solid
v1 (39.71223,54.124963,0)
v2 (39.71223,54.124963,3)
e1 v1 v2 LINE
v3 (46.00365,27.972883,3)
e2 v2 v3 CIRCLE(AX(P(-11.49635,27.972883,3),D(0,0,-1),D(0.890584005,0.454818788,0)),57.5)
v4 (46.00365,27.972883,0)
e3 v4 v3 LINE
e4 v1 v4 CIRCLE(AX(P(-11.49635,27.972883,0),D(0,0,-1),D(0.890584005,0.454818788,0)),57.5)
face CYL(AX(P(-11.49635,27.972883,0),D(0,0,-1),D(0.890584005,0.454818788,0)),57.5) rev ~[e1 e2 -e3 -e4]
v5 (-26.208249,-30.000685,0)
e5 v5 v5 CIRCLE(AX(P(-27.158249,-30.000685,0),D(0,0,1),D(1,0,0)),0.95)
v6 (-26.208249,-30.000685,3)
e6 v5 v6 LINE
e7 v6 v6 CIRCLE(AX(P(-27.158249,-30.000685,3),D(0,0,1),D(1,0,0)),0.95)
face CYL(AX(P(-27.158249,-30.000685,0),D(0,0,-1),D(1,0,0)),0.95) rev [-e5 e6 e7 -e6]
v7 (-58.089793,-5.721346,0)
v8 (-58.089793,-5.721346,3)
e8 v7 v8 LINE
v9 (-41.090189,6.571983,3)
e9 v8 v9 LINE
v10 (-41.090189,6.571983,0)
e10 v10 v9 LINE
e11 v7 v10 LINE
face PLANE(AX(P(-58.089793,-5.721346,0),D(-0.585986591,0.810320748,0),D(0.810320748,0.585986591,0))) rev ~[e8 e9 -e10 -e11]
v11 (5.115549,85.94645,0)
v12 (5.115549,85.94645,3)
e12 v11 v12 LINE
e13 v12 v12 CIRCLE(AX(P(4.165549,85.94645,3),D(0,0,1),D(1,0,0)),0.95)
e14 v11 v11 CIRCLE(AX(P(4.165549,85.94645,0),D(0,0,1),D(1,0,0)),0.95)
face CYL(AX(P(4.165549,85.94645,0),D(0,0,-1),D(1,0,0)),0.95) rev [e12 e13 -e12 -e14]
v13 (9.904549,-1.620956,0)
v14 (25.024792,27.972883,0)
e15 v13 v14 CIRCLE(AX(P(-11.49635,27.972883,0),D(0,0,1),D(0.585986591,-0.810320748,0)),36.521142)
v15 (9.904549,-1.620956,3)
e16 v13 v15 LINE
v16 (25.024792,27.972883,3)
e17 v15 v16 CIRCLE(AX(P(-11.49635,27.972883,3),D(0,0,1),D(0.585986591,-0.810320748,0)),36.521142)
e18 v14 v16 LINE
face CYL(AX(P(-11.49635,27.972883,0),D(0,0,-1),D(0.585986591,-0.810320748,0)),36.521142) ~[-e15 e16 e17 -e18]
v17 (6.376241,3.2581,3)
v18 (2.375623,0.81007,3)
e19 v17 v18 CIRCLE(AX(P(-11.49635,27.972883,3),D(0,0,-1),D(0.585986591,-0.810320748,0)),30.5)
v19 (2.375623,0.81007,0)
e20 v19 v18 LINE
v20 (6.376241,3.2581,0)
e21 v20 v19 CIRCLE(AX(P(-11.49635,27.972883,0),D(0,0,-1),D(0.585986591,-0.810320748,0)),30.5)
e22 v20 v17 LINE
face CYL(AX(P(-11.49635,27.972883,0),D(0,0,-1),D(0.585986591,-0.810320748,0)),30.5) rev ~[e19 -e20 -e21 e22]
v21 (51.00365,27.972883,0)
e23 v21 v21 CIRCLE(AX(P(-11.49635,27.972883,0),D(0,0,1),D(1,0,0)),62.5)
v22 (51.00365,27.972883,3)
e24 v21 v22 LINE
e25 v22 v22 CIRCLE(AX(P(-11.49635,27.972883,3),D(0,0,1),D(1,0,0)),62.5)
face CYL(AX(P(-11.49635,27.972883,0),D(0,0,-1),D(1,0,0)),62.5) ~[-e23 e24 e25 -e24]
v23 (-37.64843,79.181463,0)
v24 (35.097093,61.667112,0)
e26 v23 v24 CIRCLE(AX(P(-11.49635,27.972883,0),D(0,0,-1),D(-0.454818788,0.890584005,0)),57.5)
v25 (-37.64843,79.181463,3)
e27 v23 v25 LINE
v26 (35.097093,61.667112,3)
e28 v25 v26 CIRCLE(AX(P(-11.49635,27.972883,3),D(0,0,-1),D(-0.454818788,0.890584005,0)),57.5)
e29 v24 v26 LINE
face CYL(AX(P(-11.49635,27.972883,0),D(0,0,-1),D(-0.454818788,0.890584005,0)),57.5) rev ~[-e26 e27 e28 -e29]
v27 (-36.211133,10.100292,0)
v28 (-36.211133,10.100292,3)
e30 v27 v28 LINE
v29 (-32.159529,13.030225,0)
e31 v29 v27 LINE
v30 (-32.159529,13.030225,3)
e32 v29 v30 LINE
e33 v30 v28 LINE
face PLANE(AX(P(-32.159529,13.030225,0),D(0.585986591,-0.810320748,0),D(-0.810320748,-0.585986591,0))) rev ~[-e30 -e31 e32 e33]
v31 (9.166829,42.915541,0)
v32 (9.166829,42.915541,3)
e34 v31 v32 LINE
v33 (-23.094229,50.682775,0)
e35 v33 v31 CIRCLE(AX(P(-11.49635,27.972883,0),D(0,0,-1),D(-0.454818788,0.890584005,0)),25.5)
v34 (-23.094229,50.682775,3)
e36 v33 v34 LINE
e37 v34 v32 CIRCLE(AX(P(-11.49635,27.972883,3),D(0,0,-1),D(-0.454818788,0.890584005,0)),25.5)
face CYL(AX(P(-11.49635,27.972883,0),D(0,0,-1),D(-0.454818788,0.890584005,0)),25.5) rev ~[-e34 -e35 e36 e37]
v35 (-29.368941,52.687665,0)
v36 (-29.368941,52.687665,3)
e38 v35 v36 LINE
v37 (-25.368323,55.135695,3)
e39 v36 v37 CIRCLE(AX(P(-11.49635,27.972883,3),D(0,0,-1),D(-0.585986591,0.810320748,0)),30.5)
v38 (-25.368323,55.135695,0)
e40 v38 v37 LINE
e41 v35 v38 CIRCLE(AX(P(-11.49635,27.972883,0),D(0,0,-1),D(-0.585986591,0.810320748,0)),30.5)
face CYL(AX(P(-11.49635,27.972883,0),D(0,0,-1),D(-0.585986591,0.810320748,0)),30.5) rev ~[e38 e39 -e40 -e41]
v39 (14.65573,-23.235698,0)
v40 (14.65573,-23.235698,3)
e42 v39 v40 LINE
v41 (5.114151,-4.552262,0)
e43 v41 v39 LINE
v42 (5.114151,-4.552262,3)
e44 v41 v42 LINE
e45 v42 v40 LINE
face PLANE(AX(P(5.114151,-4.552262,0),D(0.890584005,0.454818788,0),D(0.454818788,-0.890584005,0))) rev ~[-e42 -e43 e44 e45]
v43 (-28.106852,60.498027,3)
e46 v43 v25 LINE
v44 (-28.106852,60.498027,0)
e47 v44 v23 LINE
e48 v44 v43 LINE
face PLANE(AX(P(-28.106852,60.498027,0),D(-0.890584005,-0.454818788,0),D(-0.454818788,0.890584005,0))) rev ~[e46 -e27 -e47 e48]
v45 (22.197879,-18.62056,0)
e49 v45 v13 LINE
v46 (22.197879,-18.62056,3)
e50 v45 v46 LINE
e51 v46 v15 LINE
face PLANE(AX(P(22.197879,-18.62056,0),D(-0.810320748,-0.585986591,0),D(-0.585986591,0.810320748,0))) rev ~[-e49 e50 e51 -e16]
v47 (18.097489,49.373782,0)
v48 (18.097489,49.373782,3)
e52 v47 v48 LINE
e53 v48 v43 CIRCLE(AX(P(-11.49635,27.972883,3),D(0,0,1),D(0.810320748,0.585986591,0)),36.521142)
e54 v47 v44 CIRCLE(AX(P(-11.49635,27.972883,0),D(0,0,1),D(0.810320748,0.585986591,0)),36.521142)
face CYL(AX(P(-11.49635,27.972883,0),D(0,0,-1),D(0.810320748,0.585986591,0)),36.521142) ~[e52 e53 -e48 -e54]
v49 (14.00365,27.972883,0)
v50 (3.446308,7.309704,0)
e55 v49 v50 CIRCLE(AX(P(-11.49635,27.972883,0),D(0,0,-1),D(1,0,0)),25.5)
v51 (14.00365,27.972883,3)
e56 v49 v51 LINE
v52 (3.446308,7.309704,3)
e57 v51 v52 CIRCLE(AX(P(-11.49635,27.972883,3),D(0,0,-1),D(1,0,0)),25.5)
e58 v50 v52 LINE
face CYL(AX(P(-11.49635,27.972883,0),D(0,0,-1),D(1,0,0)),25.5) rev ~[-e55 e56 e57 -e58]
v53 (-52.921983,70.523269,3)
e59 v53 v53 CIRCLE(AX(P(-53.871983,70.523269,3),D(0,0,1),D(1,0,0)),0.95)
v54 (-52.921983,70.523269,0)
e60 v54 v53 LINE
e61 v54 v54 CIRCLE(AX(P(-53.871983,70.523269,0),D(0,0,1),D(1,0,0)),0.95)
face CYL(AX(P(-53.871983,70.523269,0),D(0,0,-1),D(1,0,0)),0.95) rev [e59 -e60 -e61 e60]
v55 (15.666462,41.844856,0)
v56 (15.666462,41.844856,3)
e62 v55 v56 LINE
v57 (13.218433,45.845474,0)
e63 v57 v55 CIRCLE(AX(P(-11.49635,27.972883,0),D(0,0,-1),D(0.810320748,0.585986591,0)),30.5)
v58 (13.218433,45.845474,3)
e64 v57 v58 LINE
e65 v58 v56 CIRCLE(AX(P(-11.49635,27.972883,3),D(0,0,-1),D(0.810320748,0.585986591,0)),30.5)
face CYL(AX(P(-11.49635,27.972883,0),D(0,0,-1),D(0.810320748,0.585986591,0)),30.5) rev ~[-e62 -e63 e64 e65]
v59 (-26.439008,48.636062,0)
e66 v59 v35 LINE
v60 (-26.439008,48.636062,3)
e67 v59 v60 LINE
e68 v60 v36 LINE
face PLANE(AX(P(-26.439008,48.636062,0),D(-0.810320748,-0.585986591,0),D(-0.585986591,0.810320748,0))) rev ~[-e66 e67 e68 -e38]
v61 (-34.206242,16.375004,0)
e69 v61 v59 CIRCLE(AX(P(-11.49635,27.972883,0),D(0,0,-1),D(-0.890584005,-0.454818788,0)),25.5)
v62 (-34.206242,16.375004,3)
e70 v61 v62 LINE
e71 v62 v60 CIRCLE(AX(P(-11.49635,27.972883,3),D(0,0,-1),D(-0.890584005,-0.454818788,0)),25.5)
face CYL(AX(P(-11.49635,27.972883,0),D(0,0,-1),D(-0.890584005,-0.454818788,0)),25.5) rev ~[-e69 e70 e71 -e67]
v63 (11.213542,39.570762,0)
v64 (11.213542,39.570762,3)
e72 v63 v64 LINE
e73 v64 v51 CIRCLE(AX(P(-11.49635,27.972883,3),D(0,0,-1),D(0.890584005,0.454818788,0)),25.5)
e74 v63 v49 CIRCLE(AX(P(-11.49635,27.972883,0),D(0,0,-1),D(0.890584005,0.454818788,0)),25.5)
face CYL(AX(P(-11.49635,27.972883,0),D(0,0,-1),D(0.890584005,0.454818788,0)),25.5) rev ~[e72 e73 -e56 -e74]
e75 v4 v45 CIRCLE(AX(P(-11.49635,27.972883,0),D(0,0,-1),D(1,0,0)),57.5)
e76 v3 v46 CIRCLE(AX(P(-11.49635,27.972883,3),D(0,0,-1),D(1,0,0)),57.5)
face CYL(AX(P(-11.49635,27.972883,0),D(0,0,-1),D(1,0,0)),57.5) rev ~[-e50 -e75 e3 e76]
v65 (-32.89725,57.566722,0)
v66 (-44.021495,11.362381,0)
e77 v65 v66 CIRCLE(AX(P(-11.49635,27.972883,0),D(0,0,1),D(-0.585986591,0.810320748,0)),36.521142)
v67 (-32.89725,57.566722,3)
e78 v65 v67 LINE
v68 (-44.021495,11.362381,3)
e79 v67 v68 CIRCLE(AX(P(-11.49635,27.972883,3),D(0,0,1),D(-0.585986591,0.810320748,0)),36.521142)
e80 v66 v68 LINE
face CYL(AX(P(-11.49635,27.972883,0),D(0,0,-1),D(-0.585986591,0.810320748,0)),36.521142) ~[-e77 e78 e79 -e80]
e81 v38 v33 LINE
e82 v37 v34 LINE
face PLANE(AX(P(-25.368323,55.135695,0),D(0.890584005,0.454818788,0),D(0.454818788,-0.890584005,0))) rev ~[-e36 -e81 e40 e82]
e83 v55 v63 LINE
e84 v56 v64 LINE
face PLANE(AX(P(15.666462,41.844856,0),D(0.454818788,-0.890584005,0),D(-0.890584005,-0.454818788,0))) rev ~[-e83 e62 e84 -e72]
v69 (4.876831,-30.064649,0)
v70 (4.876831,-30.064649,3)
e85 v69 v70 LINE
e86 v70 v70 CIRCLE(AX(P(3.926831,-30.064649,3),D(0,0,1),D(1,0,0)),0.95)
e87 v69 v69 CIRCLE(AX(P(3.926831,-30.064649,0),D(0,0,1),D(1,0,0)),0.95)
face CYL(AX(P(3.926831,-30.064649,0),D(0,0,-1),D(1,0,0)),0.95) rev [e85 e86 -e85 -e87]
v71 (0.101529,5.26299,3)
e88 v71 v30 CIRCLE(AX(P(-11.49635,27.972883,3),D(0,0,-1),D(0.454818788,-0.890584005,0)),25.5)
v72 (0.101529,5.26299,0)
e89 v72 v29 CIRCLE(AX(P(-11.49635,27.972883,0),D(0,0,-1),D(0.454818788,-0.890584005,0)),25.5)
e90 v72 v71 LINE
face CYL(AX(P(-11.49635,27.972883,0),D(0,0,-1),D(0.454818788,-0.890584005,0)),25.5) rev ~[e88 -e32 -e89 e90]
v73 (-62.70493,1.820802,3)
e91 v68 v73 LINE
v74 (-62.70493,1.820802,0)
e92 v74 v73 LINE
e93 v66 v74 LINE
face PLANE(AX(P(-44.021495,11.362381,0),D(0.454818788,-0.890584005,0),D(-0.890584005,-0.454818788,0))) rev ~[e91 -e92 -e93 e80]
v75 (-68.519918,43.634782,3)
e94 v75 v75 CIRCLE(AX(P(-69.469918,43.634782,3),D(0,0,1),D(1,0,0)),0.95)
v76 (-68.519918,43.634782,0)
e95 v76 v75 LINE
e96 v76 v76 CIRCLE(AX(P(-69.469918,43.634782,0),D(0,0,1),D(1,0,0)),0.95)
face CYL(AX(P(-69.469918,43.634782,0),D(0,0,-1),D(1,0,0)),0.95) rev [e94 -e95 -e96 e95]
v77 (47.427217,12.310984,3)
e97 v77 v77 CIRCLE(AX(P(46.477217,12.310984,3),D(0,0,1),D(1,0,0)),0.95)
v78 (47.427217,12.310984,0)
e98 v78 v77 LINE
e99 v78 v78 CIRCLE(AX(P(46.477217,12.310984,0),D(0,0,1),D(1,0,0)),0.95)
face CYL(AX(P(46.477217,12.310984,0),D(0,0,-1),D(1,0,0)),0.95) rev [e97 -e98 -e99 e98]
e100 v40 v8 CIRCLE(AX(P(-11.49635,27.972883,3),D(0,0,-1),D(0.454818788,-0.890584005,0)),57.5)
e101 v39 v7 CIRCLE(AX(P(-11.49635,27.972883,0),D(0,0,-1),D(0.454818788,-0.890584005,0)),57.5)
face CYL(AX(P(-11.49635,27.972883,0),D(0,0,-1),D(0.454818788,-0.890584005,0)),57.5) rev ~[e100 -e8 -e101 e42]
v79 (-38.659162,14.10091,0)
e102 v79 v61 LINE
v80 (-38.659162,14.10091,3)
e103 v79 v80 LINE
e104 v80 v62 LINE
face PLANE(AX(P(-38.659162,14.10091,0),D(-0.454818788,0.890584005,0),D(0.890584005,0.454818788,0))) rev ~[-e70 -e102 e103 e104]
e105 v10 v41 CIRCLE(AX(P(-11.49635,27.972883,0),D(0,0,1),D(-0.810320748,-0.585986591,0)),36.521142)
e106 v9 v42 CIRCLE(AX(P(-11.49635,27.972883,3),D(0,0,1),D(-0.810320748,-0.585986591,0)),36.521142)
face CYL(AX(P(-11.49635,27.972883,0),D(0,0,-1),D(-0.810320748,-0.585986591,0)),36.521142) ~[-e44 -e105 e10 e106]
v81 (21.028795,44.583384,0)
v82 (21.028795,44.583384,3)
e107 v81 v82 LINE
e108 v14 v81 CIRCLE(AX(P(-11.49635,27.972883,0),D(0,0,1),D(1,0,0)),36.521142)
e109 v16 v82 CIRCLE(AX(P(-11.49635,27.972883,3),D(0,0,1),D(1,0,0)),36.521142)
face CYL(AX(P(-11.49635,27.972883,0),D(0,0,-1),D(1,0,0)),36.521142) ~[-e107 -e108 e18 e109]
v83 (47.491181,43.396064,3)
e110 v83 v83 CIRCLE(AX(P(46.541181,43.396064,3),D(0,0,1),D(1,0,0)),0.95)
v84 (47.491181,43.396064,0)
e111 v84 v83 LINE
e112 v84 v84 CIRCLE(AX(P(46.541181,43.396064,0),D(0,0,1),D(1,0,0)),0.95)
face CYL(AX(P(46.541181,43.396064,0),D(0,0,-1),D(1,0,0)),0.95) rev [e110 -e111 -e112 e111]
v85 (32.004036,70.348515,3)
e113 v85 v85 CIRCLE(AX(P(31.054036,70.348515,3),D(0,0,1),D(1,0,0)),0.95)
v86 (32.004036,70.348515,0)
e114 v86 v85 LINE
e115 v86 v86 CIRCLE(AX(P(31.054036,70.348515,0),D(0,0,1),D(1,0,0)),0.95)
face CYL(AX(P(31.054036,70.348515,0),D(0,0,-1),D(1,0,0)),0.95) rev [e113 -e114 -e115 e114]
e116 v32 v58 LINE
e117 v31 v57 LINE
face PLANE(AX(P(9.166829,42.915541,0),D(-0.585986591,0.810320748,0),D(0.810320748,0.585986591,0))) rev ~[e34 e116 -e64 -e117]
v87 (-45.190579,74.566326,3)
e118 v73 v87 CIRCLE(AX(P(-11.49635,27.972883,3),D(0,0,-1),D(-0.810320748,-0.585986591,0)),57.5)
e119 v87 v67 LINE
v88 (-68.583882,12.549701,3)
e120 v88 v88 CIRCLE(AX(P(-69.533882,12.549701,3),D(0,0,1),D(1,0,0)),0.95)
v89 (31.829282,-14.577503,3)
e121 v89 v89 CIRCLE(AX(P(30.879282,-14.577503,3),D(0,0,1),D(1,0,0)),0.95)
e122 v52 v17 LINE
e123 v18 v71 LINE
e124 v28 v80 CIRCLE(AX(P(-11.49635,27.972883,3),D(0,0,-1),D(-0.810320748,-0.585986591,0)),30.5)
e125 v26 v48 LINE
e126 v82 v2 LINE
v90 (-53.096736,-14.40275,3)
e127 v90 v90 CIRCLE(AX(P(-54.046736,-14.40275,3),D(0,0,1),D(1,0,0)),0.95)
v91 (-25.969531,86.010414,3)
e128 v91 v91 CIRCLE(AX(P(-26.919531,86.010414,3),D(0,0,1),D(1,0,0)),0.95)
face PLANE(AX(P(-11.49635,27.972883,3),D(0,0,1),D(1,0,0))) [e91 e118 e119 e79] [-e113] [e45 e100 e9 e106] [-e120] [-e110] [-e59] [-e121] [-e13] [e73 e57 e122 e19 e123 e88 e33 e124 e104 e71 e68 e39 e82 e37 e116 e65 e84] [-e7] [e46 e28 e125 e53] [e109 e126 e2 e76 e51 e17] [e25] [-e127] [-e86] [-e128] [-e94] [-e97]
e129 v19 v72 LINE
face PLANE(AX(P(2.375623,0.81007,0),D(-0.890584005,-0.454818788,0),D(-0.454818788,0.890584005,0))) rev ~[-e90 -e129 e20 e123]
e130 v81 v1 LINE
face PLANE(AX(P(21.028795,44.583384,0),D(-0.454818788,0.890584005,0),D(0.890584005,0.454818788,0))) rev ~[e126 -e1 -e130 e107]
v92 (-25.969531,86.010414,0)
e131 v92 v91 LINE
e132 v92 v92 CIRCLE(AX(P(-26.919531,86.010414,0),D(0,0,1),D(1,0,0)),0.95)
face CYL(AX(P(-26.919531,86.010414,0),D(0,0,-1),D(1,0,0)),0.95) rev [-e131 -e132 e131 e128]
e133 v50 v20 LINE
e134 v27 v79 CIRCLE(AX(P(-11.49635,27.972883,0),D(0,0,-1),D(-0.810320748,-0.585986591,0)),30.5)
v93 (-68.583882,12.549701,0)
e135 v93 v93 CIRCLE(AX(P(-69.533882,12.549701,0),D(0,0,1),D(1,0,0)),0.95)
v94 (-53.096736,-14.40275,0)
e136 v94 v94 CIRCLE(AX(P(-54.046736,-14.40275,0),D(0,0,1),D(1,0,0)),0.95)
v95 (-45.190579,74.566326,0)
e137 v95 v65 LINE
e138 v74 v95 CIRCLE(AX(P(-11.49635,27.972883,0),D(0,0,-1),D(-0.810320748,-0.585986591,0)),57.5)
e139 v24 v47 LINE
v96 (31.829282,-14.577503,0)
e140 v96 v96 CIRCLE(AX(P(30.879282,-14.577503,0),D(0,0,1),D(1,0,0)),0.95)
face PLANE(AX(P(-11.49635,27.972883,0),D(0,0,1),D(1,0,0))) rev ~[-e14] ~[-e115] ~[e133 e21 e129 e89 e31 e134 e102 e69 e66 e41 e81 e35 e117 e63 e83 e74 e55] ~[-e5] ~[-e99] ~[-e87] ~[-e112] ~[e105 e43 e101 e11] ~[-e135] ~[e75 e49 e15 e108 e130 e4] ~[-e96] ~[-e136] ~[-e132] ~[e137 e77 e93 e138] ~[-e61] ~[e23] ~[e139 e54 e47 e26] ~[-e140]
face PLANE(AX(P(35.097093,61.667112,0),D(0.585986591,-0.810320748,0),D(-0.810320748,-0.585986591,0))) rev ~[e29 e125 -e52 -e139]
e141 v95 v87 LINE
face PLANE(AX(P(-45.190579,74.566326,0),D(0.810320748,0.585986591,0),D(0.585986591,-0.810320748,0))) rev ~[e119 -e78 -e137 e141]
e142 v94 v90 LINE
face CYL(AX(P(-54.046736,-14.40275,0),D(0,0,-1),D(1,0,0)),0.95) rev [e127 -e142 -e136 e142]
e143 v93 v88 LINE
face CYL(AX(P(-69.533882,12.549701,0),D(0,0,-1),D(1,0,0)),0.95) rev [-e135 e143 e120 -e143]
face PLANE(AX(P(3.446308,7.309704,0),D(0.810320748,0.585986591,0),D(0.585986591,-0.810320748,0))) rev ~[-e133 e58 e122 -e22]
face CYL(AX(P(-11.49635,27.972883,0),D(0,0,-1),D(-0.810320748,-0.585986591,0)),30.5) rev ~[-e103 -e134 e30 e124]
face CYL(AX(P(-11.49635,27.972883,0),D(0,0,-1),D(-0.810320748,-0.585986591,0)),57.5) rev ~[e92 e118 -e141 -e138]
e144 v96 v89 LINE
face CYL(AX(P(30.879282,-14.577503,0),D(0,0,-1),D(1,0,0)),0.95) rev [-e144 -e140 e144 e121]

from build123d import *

# Parameters (mm, degrees)
F0_R     = 62.5
F0_R_2   = 0.95
F1_DEPTH = 3


with BuildPart() as f1:
    # F0 (on Top) → F1 (new body)
    with BuildSketch(Plane.XY):
        with Locations((-11.4963501692, 27.9728826135)):
            Circle(F0_R)
        with Locations((-54.0467362732, -14.4027499996)):
            Circle(F0_R_2, mode=Mode.SUBTRACT)
        with Locations((-27.1582491696, -30.0006847829)):
            Circle(F0_R_2, mode=Mode.SUBTRACT)
        with Locations((-69.5338817827, 12.5497013212)):
            Circle(F0_R_2, mode=Mode.SUBTRACT)
        with Locations((3.9268311232, -30.064649)):
            Circle(F0_R_2, mode=Mode.SUBTRACT)
        with Locations((30.8792824439, -14.5775034905)):
            Circle(F0_R_2, mode=Mode.SUBTRACT)
        with Locations((46.4772172272, 12.3109836131)):
            Circle(F0_R_2, mode=Mode.SUBTRACT)
        with Locations((-69.4699175656, 43.6347816139)):
            Circle(F0_R_2, mode=Mode.SUBTRACT)
        with Locations((-53.8719827823, 70.5232687176)):
            Circle(F0_R_2, mode=Mode.SUBTRACT)
        with Locations((-26.9195314615, 86.010414227)):
            Circle(F0_R_2, mode=Mode.SUBTRACT)
        with BuildLine():
            ThreePointArc((35.0970928529, 61.6671116053), (37.5498519583, 57.9848811619), (39.7122301293, 54.1249629097))
            ThreePointArc((39.7122301293, 54.1249629097), (44.4086736085, 41.4219835656), (46.0036498308, 27.9728826135))
            ThreePointArc((46.0036498308, 27.9728826135), (39.707498158, 1.8115386785), (22.1978788226, -18.6205604085))
            ThreePointArc((22.1978788226, -18.6205604085), (18.5156483792, -21.073319514), (14.655730127, -23.2356976849))
            ThreePointArc((14.655730127, -23.2356976849), (-24.9555645945, -27.9297071928), (-58.0897931912, -5.7213463782))
            ThreePointArc((-58.0897931912, -5.7213463782), (-60.5425522967, -2.0391159348), (-62.7049304676, 1.8208023173))
            ThreePointArc((-62.7049304676, 1.8208023173), (-67.3989399755, 41.4320970388), (-45.190579161, 74.5663256356))
            ThreePointArc((-45.190579161, 74.5663256356), (-41.5083487176, 77.019084741), (-37.6484304654, 79.181462912))
            ThreePointArc((-37.6484304654, 79.181462912), (1.9628642561, 83.8754724199), (35.0970928529, 61.6671116053))
        make_face(mode=Mode.SUBTRACT)
        with Locations((46.5411814443, 43.3960639059)):
            Circle(F0_R_2, mode=Mode.SUBTRACT)
        with Locations((4.1655488312, 85.9464500099)):
            Circle(F0_R_2, mode=Mode.SUBTRACT)
        with Locations((31.0540359349, 70.3485152266)):
            Circle(F0_R_2, mode=Mode.SUBTRACT)
        with BuildLine():
            ThreePointArc((-23.0942292571, 50.6827747459), (-5.5274811632, 52.764465919), (9.1668289102, 42.9155406882))
            Line((9.1668289102, 42.9155406882), (13.2184326512, 45.845473644))
            ThreePointArc((13.2184326512, 45.845473644), (-4.3571146914, 57.6255606847), (-25.3683231959, 55.1356947718))
            Line((-25.3683231959, 55.1356947718), (-23.0942292571, 50.6827747459))
        make_face()
        with BuildLine():
            ThreePointArc((-34.2062423015, 16.3750035257), (-36.2879334746, 33.9417516195), (-26.4390082438, 48.6360616929))
            Line((-26.4390082438, 48.6360616929), (-29.3689411996, 52.6876654339))
            ThreePointArc((-29.3689411996, 52.6876654339), (-41.1490282404, 35.1121180913), (-38.6591623275, 14.1009095869))
            Line((-38.6591623275, 14.1009095869), (-34.2062423015, 16.3750035257))
        make_face()
        with BuildLine():
            Line((2.3756228575, 0.8100704552), (0.1015289187, 5.2629904812))
            ThreePointArc((0.1015289187, 5.2629904812), (-17.4652191752, 3.1812993081), (-32.1595292485, 13.0302245389))
            Line((-32.1595292485, 13.0302245389), (-36.2111329896, 10.1002915831))
            ThreePointArc((-36.2111329896, 10.1002915831), (-18.6355856469, -1.6797954576), (2.3756228575, 0.8100704552))
        make_face()
        with BuildLine():
            ThreePointArc((11.2135419632, 39.5707617014), (13.2963125496, 33.937266514), (14.0036498308, 27.9728826135))
            ThreePointArc((14.0036498308, 27.9728826135), (11.2114434368, 16.3708953032), (3.4463079054, 7.3097035342))
            Line((3.4463079054, 7.3097035342), (6.3762408612, 3.2580997931))
            ThreePointArc((6.3762408612, 3.2580997931), (15.663951987, 14.0959958306), (19.0036498308, 27.9728826135))
            ThreePointArc((19.0036498308, 27.9728826135), (18.1576189651, 35.1067535534), (15.6664619891, 41.8448556402))
            Line((15.6664619891, 41.8448556402), (11.2135419632, 39.5707617014))
        make_face()
        with BuildLine():
            ThreePointArc((13.2184326512, 45.845473644), (14.5194613941, 43.8922905392), (15.6664619891, 41.8448556402))
            Line((15.6664619891, 41.8448556402), (21.0287945872, 44.5833840638))
            ThreePointArc((21.0287945872, 44.5833840638), (19.6553594594, 47.0350122708), (18.097488796, 49.3737820141))
            Line((18.097488796, 49.3737820141), (13.2184326512, 45.845473644))
        make_face()
        with BuildLine():
            ThreePointArc((-29.3689411996, 52.6876654339), (-27.4157580948, 53.9886941768), (-25.3683231959, 55.1356947718))
            Line((-25.3683231959, 55.1356947718), (-28.1068516195, 60.4980273699))
            ThreePointArc((-28.1068516195, 60.4980273699), (-30.5584798265, 59.1245922421), (-32.8972495697, 57.5667215788))
            Line((-32.8972495697, 57.5667215788), (-29.3689411996, 52.6876654339))
        make_face()
        with BuildLine():
            Line((9.9045492314, -1.6209563517), (6.3762408612, 3.2580997931))
            ThreePointArc((6.3762408612, 3.2580997931), (4.4230577565, 1.9570710503), (2.3756228575, 0.8100704552))
            Line((2.3756228575, 0.8100704552), (5.1141512811, -4.5522621428))
            ThreePointArc((5.1141512811, -4.5522621428), (7.5657794881, -3.178827015), (9.9045492314, -1.6209563517))
        make_face()
        with BuildLine():
            Line((-41.0901891344, 6.571983213), (-36.2111329896, 10.1002915831))
            ThreePointArc((-36.2111329896, 10.1002915831), (-37.5121617325, 12.0534746879), (-38.6591623275, 14.1009095869))
            Line((-38.6591623275, 14.1009095869), (-44.0214949255, 11.3623811633))
            ThreePointArc((-44.0214949255, 11.3623811633), (-42.6480597977, 8.9107529563), (-41.0901891344, 6.571983213))
        make_face()
        with BuildLine():
            Line((21.0287945872, 44.5833840638), (15.6664619891, 41.8448556402))
            ThreePointArc((15.6664619891, 41.8448556402), (18.1576189651, 35.1067535534), (19.0036498308, 27.9728826135))
            ThreePointArc((19.0036498308, 27.9728826135), (15.663951987, 14.0959958306), (6.3762408612, 3.2580997931))
            Line((6.3762408612, 3.2580997931), (9.9045492314, -1.6209563517))
            ThreePointArc((9.9045492314, -1.6209563517), (21.0257890743, 11.3564973604), (25.024791651, 27.9728826135))
            ThreePointArc((25.024791651, 27.9728826135), (24.0117420368, 36.5150830175), (21.0287945872, 44.5833840638))
        make_face()
        with BuildLine():
            Line((5.1141512811, -4.5522621428), (2.3756228575, 0.8100704552))
            ThreePointArc((2.3756228575, 0.8100704552), (-18.6355856469, -1.6797954576), (-36.2111329896, 10.1002915831))
            Line((-36.2111329896, 10.1002915831), (-41.0901891344, 6.571983213))
            ThreePointArc((-41.0901891344, 6.571983213), (-20.0449741486, -7.5336636549), (5.1141512811, -4.5522621428))
        make_face()
        with BuildLine():
            ThreePointArc((-38.6591623275, 14.1009095869), (-41.1490282404, 35.1121180913), (-29.3689411996, 52.6876654339))
            Line((-29.3689411996, 52.6876654339), (-32.8972495697, 57.5667215788))
            ThreePointArc((-32.8972495697, 57.5667215788), (-47.0028964376, 36.5215065929), (-44.0214949255, 11.3623811633))
            Line((-44.0214949255, 11.3623811633), (-38.6591623275, 14.1009095869))
        make_face()
        with BuildLine():
            ThreePointArc((-25.3683231959, 55.1356947718), (-4.3571146914, 57.6255606847), (13.2184326512, 45.845473644))
            Line((13.2184326512, 45.845473644), (18.097488796, 49.3737820141))
            ThreePointArc((18.097488796, 49.3737820141), (-2.9477261898, 63.479428882), (-28.1068516195, 60.4980273699))
            Line((-28.1068516195, 60.4980273699), (-25.3683231959, 55.1356947718))
        make_face()
        with BuildLine():
            Line((-58.0897931912, -5.7213463782), (-41.0901891344, 6.571983213))
            ThreePointArc((-41.0901891344, 6.571983213), (-42.6480597977, 8.9107529563), (-44.0214949255, 11.3623811633))
            Line((-44.0214949255, 11.3623811633), (-62.7049304676, 1.8208023173))
            ThreePointArc((-62.7049304676, 1.8208023173), (-60.5425522967, -2.0391159348), (-58.0897931912, -5.7213463782))
        make_face()
        with BuildLine():
            Line((22.1978788226, -18.6205604085), (9.9045492314, -1.6209563517))
            ThreePointArc((9.9045492314, -1.6209563517), (7.5657794881, -3.178827015), (5.1141512811, -4.5522621428))
            Line((5.1141512811, -4.5522621428), (14.655730127, -23.2356976849))
            ThreePointArc((14.655730127, -23.2356976849), (18.5156483792, -21.073319514), (22.1978788226, -18.6205604085))
        make_face()
        with BuildLine():
            ThreePointArc((18.097488796, 49.3737820141), (19.6553594594, 47.0350122708), (21.0287945872, 44.5833840638))
            Line((21.0287945872, 44.5833840638), (39.7122301293, 54.1249629097))
            ThreePointArc((39.7122301293, 54.1249629097), (37.5498519583, 57.9848811619), (35.0970928529, 61.6671116053))
            Line((35.0970928529, 61.6671116053), (18.097488796, 49.3737820141))
        make_face()
        with BuildLine():
            ThreePointArc((-32.8972495697, 57.5667215788), (-30.5584798265, 59.1245922421), (-28.1068516195, 60.4980273699))
            Line((-28.1068516195, 60.4980273699), (-37.6484304654, 79.181462912))
            ThreePointArc((-37.6484304654, 79.181462912), (-41.5083487176, 77.019084741), (-45.190579161, 74.5663256356))
            Line((-45.190579161, 74.5663256356), (-32.8972495697, 57.5667215788))
        make_face()
    extrude(amount=F1_DEPTH)


solid = f1.part
